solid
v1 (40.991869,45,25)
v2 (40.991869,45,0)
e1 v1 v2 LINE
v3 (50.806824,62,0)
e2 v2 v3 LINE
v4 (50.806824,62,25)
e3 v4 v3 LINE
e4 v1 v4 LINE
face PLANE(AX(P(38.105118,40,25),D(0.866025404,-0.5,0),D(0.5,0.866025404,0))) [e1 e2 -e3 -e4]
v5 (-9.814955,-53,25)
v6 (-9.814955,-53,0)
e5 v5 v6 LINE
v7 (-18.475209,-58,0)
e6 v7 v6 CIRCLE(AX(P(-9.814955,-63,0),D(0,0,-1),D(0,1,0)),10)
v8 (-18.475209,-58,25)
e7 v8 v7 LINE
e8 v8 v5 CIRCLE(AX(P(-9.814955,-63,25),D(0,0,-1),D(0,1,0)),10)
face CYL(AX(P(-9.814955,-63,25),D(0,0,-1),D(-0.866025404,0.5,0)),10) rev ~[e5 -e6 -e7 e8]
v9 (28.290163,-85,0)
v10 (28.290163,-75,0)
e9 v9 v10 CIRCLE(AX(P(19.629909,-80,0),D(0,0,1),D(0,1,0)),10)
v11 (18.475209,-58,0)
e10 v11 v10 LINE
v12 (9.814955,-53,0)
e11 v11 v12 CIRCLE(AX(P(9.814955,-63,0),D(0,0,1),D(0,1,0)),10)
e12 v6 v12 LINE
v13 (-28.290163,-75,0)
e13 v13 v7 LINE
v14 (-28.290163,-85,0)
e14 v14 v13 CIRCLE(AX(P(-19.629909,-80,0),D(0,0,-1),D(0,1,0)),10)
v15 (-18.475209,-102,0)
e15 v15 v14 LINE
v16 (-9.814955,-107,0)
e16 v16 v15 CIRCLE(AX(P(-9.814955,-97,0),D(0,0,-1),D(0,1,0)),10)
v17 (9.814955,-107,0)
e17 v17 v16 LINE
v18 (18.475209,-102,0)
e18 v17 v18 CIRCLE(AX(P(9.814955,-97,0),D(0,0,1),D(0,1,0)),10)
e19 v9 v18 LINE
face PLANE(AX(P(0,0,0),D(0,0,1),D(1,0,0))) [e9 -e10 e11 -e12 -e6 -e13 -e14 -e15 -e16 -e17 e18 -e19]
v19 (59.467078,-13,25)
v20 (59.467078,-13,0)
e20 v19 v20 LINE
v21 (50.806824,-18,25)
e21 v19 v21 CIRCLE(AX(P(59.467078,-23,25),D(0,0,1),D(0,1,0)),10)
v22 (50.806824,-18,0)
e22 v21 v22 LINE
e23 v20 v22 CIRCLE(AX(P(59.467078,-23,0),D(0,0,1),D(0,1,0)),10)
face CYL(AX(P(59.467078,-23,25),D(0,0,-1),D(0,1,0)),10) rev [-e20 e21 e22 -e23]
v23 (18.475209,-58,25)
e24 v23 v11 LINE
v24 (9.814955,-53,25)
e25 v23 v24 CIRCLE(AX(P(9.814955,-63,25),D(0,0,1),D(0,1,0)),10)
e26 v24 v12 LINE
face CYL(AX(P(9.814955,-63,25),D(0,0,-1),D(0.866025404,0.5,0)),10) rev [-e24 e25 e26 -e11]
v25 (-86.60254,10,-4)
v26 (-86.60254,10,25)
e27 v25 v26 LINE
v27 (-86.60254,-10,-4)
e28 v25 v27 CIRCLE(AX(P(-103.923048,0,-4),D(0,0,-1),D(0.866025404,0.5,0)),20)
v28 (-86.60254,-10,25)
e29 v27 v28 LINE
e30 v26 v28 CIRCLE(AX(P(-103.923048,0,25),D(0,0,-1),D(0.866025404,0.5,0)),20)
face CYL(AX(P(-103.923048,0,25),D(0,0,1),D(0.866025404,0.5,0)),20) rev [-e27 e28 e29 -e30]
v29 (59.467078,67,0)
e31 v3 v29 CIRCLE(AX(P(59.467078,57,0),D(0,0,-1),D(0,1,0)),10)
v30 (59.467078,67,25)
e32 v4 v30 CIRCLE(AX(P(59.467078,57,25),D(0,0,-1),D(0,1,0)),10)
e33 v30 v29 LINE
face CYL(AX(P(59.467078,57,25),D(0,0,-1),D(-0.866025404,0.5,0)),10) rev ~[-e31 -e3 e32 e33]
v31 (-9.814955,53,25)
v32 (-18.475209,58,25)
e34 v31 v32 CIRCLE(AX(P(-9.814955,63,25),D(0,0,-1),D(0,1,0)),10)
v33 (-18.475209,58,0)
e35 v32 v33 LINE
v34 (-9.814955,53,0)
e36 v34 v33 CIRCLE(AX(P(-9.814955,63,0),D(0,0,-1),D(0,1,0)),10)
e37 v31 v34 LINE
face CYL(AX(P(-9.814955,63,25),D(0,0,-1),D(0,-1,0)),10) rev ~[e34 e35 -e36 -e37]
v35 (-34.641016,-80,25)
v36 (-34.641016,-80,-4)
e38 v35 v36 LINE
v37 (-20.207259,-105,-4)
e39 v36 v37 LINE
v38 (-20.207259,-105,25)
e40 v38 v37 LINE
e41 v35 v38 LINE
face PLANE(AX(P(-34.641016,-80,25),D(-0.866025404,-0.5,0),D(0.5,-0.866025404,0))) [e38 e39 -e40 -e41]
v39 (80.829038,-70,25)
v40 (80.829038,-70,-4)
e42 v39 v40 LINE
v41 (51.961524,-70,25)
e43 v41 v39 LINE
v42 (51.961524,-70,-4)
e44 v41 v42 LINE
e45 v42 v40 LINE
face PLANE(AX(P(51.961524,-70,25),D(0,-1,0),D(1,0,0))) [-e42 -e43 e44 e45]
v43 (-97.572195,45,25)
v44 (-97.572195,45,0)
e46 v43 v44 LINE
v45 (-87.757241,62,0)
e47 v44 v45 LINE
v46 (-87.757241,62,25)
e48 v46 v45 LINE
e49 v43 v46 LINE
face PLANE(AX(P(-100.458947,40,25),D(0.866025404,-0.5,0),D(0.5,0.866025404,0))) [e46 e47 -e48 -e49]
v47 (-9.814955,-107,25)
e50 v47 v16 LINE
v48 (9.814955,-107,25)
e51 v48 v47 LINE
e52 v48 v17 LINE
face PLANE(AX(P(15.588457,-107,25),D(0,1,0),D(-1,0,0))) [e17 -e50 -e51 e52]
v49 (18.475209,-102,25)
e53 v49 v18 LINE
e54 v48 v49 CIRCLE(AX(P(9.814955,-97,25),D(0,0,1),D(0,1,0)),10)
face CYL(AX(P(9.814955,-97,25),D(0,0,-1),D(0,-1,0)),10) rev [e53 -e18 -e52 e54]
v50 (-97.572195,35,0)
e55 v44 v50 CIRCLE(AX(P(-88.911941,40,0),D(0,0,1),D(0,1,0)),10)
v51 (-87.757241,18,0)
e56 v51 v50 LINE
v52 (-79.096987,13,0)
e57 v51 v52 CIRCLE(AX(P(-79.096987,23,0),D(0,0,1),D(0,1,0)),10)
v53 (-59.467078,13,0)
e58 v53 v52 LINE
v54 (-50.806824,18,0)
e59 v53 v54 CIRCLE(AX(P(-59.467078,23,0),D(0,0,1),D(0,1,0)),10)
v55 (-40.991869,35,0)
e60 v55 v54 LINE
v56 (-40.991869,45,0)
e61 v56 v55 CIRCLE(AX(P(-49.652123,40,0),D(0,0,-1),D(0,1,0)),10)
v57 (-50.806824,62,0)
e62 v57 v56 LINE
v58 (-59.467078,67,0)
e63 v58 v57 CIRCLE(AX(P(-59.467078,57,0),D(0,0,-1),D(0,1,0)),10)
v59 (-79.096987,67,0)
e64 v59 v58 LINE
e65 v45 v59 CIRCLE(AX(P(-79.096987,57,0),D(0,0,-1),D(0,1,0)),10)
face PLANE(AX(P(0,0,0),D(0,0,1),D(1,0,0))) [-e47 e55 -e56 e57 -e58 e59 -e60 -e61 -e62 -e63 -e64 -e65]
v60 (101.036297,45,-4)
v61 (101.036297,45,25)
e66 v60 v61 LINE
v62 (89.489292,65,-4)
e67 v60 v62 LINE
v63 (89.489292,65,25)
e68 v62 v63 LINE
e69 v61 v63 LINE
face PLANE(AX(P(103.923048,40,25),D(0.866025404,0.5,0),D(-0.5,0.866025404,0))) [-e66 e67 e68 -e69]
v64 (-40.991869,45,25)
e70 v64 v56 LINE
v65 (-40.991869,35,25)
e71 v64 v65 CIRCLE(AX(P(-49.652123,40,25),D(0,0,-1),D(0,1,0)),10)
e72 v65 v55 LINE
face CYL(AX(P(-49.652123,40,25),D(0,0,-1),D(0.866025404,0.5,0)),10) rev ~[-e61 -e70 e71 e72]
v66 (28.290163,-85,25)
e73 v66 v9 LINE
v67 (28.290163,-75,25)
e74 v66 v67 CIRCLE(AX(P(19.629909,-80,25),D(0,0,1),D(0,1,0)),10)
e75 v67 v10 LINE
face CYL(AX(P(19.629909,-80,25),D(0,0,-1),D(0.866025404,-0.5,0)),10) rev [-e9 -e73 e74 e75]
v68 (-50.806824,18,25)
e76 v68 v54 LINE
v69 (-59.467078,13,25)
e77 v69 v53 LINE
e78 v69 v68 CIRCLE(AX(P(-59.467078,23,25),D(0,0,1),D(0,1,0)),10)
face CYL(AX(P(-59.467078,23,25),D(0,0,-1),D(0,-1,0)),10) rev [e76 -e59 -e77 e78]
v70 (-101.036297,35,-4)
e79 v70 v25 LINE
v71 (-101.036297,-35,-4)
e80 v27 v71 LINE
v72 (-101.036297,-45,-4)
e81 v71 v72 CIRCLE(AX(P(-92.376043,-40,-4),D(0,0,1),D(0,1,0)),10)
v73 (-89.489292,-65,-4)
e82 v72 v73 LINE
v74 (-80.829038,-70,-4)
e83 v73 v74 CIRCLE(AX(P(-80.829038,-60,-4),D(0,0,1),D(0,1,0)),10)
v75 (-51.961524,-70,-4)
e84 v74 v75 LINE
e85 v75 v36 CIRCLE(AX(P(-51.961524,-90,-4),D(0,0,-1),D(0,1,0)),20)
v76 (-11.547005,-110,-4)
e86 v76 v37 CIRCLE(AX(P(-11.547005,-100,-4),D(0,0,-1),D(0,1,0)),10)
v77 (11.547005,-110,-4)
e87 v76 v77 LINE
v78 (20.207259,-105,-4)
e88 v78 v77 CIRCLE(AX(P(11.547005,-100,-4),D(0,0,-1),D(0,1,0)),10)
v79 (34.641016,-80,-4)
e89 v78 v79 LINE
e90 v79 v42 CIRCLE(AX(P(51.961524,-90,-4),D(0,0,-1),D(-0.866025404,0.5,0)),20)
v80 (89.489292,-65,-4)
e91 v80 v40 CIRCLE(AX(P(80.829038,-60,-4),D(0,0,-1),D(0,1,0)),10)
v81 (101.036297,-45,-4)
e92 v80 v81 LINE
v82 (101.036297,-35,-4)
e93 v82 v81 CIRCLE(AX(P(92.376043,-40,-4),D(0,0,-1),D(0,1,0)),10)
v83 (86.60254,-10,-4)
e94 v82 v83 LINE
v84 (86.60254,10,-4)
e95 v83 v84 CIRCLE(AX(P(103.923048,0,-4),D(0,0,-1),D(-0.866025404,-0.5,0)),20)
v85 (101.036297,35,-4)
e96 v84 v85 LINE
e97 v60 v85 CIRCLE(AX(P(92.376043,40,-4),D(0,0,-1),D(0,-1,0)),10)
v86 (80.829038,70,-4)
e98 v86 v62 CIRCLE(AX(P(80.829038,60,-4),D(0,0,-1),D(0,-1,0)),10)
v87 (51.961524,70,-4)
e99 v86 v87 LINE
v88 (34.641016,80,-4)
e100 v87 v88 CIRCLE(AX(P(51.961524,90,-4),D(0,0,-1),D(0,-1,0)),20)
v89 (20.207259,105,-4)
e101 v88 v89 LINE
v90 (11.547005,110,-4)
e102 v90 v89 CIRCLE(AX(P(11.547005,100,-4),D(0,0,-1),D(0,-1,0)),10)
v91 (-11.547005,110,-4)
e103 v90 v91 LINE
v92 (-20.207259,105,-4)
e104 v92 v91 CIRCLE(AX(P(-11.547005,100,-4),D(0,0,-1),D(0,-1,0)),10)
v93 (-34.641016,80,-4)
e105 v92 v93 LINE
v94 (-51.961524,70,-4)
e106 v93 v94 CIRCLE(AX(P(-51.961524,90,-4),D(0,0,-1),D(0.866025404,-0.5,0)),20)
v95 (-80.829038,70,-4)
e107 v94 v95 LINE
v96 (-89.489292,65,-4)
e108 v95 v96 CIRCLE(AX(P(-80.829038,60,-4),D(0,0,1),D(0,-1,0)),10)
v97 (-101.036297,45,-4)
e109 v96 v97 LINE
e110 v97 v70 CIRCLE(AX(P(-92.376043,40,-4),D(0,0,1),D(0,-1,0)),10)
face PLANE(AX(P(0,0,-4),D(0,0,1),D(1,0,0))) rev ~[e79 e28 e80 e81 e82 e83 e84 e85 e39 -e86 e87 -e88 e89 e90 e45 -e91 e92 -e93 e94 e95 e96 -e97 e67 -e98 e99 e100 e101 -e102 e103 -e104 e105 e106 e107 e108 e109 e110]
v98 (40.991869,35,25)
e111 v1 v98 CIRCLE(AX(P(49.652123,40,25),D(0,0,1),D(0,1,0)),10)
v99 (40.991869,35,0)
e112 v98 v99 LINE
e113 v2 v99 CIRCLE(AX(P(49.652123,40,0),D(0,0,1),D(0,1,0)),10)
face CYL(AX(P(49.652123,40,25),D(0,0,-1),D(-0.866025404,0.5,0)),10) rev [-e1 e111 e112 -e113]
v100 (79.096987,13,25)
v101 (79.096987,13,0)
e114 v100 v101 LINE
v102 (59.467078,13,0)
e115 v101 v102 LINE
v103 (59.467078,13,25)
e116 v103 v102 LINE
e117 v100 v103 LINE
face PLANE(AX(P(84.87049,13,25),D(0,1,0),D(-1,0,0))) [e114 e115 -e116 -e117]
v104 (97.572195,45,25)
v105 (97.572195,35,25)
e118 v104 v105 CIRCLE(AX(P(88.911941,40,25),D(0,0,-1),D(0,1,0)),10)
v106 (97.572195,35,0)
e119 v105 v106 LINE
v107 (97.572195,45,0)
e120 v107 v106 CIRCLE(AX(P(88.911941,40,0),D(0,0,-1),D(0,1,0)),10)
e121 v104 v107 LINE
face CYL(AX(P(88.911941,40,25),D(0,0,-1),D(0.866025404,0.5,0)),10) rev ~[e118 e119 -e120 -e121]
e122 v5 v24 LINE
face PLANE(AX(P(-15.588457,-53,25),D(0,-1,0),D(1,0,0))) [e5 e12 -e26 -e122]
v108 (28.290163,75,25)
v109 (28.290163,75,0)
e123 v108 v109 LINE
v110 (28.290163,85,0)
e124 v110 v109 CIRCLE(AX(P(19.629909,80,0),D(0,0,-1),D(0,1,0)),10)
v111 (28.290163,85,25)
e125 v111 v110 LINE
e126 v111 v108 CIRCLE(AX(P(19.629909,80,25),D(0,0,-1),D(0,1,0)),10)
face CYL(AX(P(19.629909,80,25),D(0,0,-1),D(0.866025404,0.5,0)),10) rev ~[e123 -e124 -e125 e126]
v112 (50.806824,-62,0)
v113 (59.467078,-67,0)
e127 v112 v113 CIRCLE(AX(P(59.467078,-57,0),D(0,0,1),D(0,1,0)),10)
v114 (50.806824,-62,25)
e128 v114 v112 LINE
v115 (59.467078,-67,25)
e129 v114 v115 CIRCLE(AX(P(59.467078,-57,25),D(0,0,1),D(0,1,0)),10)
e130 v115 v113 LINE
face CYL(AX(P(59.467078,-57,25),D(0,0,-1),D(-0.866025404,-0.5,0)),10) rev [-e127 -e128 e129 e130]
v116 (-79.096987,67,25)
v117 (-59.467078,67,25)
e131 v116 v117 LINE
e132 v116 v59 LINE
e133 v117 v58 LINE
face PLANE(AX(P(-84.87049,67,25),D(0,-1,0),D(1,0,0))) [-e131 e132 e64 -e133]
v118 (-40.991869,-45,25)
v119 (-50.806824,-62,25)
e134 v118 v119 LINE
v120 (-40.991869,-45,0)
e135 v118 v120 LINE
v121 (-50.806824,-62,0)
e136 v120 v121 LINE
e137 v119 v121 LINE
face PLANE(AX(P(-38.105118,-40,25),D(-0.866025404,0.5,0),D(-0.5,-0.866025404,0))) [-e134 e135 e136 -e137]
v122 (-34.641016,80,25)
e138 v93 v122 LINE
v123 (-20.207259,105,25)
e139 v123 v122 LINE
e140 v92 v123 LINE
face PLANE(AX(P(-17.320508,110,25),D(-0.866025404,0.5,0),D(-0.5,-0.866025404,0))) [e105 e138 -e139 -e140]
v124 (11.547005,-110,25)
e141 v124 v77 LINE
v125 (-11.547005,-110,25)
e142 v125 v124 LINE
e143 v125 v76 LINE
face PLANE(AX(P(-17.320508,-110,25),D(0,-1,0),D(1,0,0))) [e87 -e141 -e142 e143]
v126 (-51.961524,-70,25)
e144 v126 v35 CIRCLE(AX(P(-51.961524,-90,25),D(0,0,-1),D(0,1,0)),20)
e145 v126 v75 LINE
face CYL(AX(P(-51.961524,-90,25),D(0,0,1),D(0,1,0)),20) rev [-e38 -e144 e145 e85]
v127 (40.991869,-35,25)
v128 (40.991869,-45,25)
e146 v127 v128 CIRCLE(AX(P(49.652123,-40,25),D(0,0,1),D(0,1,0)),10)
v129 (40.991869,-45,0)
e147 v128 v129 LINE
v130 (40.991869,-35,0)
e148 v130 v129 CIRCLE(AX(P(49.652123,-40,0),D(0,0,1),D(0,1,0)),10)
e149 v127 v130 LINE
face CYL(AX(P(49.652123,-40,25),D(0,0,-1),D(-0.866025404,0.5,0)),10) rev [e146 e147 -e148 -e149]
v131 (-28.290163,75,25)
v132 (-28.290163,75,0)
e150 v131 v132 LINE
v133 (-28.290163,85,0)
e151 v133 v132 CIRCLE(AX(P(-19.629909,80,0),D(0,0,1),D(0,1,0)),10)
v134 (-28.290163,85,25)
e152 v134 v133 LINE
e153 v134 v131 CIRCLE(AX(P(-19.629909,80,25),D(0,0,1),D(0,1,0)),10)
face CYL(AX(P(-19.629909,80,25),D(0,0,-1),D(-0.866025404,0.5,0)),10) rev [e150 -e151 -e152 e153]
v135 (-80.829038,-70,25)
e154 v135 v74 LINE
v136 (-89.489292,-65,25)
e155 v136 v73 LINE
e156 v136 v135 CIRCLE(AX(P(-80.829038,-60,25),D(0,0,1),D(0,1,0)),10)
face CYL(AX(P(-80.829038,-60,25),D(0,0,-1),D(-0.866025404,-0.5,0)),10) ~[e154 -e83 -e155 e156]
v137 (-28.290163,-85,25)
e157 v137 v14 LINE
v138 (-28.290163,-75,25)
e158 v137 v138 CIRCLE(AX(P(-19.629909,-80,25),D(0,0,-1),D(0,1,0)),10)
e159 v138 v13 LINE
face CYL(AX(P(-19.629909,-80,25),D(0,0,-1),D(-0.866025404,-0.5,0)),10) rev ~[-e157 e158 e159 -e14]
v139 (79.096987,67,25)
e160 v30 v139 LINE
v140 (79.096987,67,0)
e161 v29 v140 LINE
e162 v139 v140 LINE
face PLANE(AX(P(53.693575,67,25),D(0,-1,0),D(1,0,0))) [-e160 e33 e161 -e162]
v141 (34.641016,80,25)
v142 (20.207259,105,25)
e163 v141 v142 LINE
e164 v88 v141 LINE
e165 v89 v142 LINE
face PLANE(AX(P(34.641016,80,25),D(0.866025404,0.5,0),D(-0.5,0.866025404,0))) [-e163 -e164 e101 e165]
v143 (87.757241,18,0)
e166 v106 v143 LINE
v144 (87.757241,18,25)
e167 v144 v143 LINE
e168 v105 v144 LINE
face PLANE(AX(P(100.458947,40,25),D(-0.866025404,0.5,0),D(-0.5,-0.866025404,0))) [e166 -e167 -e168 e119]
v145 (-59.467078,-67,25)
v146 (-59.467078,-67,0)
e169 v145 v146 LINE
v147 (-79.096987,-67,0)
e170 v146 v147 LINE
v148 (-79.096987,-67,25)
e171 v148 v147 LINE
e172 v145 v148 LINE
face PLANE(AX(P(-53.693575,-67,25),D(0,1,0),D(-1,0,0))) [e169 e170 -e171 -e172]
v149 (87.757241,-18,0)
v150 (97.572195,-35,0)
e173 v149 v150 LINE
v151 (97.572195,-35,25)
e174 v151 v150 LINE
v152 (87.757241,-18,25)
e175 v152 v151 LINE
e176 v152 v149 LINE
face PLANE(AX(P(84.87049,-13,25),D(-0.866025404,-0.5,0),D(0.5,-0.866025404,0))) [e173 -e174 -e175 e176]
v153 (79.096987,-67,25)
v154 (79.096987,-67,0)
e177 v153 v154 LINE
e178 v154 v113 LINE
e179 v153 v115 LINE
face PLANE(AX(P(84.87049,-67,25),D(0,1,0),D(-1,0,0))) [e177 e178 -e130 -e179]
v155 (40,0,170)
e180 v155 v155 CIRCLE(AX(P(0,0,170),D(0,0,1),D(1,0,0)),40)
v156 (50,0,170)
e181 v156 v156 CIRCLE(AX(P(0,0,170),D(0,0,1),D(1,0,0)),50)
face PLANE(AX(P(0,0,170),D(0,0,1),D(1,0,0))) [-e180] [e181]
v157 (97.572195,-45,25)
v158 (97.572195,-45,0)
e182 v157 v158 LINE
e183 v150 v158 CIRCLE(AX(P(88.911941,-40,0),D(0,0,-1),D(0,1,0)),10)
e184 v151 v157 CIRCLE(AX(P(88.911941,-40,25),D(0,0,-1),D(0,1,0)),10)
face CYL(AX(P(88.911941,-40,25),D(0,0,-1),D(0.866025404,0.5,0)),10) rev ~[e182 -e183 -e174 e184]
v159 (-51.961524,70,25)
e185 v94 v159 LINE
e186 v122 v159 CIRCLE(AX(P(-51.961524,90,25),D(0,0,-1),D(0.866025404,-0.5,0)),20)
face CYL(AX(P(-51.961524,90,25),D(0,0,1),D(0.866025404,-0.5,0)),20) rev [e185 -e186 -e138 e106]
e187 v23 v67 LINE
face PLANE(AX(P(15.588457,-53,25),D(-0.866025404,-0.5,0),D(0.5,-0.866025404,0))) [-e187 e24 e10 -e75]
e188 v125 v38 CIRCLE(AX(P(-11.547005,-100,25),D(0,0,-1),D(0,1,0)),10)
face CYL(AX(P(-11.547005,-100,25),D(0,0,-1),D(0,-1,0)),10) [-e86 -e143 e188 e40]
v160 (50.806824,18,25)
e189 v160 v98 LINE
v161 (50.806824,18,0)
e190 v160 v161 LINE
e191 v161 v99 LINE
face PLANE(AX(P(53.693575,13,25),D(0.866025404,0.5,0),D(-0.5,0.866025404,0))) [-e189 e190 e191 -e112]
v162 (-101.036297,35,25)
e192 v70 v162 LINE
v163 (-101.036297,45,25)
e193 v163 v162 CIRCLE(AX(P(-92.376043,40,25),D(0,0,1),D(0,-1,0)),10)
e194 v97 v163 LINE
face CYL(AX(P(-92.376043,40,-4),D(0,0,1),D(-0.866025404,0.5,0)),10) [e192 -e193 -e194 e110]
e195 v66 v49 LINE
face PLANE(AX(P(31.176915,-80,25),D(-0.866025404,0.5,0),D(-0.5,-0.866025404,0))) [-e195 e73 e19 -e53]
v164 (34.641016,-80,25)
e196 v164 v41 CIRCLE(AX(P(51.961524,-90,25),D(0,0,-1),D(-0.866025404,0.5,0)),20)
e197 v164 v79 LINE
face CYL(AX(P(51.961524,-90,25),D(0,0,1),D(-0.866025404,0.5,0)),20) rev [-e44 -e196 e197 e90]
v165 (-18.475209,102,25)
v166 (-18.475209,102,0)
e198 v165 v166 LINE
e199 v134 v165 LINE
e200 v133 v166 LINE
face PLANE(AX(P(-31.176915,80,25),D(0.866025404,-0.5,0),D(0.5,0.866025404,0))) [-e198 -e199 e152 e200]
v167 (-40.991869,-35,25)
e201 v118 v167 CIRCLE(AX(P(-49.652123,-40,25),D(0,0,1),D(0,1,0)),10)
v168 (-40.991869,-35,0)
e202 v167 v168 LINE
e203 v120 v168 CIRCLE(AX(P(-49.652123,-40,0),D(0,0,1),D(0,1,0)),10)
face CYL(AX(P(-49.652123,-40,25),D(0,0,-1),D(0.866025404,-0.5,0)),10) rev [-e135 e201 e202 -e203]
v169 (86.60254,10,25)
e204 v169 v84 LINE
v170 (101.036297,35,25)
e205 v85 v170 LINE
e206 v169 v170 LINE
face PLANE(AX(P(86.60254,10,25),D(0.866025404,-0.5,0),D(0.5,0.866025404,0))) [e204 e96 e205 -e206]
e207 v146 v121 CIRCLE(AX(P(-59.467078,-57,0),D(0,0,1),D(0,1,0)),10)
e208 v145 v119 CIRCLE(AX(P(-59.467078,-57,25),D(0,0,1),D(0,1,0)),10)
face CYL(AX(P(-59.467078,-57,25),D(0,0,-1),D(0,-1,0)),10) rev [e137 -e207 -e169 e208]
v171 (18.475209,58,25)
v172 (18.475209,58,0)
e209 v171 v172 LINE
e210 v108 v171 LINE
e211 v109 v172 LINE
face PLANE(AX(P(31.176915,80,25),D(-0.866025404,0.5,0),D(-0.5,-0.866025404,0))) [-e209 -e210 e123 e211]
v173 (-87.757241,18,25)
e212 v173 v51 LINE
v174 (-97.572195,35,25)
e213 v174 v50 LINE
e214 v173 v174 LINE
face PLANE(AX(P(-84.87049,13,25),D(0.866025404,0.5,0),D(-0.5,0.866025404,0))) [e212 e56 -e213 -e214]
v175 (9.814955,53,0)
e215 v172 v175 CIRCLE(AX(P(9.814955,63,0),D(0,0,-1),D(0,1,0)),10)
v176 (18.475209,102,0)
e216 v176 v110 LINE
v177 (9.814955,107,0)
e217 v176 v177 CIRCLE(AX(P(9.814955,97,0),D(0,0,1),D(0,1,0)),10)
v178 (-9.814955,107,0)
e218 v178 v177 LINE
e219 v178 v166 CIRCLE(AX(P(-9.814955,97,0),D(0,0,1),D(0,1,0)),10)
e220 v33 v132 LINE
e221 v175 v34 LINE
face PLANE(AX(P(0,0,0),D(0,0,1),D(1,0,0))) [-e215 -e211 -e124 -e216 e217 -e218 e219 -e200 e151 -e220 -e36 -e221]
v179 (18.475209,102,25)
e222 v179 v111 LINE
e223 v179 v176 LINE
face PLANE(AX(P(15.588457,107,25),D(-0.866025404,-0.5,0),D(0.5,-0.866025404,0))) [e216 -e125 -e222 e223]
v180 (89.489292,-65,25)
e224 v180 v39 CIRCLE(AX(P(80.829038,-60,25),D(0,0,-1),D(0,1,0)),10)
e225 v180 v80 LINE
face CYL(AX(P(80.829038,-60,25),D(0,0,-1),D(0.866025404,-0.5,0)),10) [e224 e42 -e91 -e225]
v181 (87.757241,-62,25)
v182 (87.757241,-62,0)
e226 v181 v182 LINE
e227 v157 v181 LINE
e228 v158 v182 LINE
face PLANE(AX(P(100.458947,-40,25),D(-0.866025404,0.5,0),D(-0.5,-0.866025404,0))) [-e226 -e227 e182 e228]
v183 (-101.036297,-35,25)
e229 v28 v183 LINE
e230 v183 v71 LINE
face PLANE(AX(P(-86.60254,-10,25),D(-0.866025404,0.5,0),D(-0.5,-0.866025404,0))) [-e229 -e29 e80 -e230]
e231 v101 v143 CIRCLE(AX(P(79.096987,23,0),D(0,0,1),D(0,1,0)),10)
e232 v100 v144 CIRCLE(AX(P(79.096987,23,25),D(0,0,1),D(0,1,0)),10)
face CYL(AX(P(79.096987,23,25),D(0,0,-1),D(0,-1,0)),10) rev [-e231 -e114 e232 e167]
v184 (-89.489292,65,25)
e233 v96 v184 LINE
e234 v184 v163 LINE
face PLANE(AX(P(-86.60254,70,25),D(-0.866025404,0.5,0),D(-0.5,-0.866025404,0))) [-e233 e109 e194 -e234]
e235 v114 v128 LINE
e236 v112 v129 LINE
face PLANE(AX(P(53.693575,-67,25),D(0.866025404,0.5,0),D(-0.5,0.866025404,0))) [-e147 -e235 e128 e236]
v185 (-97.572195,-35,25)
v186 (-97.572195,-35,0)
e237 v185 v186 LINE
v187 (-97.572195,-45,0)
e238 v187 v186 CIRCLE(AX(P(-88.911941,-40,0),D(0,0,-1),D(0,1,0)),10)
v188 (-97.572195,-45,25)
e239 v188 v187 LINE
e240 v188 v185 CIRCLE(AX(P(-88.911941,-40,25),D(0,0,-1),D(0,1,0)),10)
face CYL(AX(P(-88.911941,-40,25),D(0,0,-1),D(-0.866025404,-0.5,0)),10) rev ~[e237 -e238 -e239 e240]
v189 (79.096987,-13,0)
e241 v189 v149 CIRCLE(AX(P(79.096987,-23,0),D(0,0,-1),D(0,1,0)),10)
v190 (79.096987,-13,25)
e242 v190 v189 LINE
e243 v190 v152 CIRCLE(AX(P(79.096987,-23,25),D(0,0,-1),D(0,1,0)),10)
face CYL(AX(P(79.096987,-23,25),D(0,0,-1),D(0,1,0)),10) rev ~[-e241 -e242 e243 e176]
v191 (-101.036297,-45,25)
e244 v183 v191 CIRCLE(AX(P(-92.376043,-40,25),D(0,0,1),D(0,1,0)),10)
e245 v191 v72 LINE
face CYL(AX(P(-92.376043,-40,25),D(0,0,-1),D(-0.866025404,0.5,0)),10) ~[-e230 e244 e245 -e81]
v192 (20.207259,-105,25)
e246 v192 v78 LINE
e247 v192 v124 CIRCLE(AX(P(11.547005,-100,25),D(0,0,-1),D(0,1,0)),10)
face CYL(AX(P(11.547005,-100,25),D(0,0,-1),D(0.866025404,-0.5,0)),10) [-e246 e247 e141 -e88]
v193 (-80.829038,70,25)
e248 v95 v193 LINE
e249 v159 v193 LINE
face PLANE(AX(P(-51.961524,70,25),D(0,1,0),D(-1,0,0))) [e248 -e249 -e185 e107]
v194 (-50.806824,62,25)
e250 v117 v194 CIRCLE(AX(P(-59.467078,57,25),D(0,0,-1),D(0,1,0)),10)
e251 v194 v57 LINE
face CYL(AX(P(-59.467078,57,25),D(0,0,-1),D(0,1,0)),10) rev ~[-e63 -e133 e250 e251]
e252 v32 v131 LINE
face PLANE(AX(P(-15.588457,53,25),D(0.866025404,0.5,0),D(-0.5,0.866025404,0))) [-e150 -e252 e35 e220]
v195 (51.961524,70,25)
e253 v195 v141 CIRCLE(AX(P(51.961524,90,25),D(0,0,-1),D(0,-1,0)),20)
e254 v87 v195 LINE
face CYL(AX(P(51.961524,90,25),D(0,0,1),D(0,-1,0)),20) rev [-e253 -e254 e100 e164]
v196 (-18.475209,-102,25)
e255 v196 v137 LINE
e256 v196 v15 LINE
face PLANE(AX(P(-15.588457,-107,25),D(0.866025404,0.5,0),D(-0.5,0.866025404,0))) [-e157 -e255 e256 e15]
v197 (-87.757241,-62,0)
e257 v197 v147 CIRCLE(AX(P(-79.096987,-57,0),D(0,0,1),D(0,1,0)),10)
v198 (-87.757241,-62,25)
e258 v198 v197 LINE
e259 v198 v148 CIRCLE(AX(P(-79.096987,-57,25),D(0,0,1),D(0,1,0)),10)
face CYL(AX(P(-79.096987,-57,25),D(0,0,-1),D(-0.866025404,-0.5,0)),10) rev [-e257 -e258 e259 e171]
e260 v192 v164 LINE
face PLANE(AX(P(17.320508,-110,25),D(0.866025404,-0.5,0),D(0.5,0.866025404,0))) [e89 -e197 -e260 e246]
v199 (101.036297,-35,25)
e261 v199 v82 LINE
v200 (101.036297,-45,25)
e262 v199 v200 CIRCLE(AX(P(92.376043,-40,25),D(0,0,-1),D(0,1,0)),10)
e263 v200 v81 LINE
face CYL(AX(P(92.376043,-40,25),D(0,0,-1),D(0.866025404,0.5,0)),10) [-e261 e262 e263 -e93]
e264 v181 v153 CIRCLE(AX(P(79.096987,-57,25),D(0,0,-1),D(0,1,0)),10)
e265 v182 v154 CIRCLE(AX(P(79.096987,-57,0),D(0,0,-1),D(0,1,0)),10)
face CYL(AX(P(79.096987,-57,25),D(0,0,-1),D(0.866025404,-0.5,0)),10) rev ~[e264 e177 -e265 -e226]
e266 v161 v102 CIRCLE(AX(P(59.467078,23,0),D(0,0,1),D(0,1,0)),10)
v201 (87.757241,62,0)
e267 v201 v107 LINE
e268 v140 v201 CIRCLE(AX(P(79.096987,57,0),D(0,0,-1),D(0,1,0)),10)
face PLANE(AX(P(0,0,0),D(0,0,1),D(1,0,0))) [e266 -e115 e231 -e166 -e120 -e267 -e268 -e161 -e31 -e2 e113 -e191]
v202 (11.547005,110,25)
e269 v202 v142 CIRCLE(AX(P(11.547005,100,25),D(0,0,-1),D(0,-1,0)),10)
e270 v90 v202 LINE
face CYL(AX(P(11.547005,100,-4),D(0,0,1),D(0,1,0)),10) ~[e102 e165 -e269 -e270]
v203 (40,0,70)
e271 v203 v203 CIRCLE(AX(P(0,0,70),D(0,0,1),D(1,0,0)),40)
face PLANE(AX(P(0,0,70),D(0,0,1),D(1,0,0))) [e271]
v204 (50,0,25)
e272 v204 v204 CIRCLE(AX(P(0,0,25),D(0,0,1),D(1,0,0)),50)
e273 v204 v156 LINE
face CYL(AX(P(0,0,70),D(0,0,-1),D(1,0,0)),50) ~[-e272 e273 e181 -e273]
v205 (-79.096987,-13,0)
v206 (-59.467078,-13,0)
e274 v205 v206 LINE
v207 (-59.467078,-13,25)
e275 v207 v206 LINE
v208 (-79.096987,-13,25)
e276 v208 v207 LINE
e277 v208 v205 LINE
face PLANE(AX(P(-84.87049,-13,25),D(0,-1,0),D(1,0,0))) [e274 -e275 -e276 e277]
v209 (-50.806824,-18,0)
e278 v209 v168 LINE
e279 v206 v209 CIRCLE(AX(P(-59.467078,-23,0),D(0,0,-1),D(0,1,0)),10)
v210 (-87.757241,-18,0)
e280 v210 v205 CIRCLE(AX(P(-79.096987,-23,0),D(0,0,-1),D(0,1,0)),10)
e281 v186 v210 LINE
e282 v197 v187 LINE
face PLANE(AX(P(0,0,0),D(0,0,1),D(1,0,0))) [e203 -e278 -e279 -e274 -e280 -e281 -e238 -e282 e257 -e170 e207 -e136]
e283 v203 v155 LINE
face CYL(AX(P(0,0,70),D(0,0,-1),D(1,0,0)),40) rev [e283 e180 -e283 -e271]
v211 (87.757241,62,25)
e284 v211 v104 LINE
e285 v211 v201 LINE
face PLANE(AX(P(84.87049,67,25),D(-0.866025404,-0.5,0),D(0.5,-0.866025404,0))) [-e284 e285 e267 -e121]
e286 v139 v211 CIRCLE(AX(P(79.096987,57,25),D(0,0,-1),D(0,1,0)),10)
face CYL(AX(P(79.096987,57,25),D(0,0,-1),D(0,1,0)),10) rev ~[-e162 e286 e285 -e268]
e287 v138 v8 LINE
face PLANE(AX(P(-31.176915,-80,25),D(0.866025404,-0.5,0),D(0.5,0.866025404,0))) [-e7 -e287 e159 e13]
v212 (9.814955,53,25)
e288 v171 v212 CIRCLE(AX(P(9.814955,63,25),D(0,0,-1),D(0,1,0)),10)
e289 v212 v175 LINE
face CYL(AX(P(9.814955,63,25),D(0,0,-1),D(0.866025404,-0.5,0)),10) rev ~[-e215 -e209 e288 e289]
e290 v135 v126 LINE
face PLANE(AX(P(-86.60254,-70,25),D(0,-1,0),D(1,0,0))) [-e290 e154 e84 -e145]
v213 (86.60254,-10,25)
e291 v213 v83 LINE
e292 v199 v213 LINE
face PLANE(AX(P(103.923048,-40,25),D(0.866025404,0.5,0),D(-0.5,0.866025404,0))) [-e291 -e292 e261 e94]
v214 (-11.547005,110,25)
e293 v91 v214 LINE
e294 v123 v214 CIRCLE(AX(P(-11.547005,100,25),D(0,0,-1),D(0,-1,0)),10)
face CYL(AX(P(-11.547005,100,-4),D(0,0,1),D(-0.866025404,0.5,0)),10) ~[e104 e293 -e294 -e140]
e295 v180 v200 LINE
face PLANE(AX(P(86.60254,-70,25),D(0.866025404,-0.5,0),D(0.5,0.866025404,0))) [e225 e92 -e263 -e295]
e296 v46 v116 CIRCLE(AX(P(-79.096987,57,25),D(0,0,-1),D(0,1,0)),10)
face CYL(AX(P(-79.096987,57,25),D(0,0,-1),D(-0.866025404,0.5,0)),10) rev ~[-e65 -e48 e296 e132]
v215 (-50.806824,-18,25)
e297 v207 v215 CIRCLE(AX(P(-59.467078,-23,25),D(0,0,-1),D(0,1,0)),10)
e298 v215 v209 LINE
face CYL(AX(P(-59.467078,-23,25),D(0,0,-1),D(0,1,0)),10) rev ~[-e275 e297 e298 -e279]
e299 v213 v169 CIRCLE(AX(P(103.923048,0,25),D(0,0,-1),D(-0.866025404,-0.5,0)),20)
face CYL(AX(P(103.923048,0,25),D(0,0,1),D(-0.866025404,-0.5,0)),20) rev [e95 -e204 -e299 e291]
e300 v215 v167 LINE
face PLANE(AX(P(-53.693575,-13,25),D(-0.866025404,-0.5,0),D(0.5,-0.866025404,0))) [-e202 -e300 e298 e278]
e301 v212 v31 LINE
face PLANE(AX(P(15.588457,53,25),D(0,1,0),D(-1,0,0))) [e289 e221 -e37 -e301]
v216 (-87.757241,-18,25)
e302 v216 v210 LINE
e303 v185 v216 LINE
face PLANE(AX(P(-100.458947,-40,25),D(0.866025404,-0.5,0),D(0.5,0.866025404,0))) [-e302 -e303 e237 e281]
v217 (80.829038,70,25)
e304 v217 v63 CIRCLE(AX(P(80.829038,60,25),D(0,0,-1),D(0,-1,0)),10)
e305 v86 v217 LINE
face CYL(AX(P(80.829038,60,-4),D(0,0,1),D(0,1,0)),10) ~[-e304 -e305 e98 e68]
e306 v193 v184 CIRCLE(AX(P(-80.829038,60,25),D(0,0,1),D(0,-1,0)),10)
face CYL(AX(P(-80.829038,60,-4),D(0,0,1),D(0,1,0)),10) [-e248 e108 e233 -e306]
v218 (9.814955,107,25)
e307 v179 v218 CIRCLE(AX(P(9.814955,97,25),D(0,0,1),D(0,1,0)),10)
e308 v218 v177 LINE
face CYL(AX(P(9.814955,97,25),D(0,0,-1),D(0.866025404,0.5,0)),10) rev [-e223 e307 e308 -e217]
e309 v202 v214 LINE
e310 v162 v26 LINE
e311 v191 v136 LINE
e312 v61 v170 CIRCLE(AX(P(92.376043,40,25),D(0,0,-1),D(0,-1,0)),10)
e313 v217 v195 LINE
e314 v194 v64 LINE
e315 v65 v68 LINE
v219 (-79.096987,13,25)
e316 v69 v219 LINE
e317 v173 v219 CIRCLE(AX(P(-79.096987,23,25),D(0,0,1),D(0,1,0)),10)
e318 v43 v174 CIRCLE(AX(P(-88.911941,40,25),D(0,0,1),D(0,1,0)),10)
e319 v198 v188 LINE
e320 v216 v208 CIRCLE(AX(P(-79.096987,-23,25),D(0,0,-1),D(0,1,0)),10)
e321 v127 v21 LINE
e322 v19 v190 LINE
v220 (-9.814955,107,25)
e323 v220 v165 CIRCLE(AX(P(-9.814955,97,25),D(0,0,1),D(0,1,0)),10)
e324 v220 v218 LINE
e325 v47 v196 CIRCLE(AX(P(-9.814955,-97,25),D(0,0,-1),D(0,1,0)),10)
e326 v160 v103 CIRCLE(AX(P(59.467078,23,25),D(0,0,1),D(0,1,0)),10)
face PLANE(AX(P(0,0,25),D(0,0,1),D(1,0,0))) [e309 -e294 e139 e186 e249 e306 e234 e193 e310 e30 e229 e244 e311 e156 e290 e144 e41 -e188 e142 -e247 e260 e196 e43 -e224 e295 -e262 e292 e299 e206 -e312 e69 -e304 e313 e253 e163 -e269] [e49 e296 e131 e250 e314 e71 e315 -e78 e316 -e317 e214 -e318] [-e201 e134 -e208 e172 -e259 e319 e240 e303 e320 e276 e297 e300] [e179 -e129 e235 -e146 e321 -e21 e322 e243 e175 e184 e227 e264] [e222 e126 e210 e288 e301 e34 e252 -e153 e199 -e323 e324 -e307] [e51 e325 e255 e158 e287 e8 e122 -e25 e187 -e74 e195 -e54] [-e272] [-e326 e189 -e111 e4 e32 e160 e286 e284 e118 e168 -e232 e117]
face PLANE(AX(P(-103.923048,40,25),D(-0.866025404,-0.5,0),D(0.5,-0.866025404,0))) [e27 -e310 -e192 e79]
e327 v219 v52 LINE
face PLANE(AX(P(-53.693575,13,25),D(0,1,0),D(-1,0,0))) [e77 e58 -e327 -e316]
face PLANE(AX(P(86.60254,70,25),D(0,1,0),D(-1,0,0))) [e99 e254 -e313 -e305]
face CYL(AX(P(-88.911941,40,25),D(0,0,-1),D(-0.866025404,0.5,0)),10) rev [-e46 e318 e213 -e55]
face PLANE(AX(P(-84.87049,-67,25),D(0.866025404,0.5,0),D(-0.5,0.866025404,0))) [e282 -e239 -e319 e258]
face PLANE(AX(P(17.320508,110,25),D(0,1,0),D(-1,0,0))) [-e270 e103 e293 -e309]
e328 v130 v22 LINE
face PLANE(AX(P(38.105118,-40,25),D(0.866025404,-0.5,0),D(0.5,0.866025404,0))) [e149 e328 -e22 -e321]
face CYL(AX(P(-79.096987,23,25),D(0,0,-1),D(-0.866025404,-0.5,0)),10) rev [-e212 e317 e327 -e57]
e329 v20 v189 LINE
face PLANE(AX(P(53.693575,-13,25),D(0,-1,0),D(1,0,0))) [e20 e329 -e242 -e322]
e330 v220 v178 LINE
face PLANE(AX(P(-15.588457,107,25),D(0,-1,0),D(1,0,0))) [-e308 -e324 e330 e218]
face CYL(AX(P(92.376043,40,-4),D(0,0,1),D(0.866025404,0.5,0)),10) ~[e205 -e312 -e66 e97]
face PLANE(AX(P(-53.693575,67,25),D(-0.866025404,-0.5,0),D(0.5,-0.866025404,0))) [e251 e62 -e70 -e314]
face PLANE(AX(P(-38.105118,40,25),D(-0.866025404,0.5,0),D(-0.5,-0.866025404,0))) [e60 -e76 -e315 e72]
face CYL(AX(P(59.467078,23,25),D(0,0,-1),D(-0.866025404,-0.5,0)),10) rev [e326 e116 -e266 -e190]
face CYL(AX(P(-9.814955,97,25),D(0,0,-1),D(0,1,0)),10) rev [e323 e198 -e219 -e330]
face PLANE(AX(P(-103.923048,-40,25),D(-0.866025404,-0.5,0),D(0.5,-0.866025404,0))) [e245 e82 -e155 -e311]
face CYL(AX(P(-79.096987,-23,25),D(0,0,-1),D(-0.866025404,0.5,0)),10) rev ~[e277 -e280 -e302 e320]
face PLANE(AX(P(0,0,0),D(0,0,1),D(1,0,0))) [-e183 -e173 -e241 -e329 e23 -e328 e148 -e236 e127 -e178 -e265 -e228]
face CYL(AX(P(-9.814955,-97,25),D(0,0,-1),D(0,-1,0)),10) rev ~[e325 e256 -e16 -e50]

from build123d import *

# Parameters (mm, degrees)
BOSS_EXTRUDE2_DEPTH = 4
BOSS_EXTRUDE3_START = 25
BOSS_EXTRUDE3_DEPTH = 25
BOSS_EXTRUDE4_START = 25
BASE_SKETCH_4_R     = 50
BASE_SKETCH_4_R_2   = 40
BASE_SKETCH_4_R_3   = 10
BOSS_EXTRUDE4_DEPTH = 40
BOSS_EXTRUDE5_START = 65
BASE_SKETCH_5_R     = 50
BASE_SKETCH_5_R_2   = 40
BASE_SKETCH_5_R_3   = 10
BOSS_EXTRUDE5_DEPTH = 5
BOSS_EXTRUDE6_START = 70
BASE_SKETCH_7_R     = 50
BASE_SKETCH_7_R_2   = 40
BOSS_EXTRUDE6_DEPTH = 100
FILLET1_R           = 10
FILLET2_R           = 10


with BuildPart() as part:
    # Base_Sketch → Boss-Extrude2 (new body)
    with BuildSketch(Plane.XY):
        with BuildLine():
            Line((34.641016151, 80), (17.320508076, 110))
            Line((17.320508076, 110), (-17.320508076, 110))
            Line((-17.320508076, 110), (-34.641016151, 80))
            ThreePointArc((-34.641016151, 80), (-41.961524227, 72.679491924), (-51.961524227, 70))
            Line((-51.961524227, 70), (-86.602540378, 70))
            Line((-86.602540378, 70), (-103.923048454, 40))
            Line((-103.923048454, 40), (-86.602540378, 10))
            ThreePointArc((-86.602540378, 10), (-83.923048454, 0), (-86.602540378, -10))
            Line((-86.602540378, -10), (-103.923048454, -40))
            Line((-103.923048454, -40), (-86.602540378, -70))
            Line((-86.602540378, -70), (-51.961524227, -70))
            ThreePointArc((-51.961524227, -70), (-41.961524227, -72.679491924), (-34.641016151, -80))
            Line((-34.641016151, -80), (-17.320508076, -110))
            Line((-17.320508076, -110), (17.320508076, -110))
            Line((17.320508076, -110), (34.641016151, -80))
            ThreePointArc((34.641016151, -80), (41.961524227, -72.679491924), (51.961524227, -70))
            Line((51.961524227, -70), (86.602540378, -70))
            Line((86.602540378, -70), (103.923048454, -40))
            Line((103.923048454, -40), (86.602540378, -10))
            ThreePointArc((86.602540378, -10), (83.923048454, 0), (86.602540378, 10))
            Line((86.602540378, 10), (103.923048454, 40))
            Line((103.923048454, 40), (86.602540378, 70))
            Line((86.602540378, 70), (51.961524227, 70))
            ThreePointArc((51.961524227, 70), (41.961524227, 72.679491924), (34.641016151, 80))
        make_face()
    extrude(amount=-BOSS_EXTRUDE2_DEPTH)

    # Base_Sketch<3> → Boss-Extrude3 (add)
    with BuildSketch(Plane.XY.offset(BOSS_EXTRUDE3_START)):
        with BuildLine():
            Line((86.602540378, 10), (103.923048454, 40))
            Line((103.923048454, 40), (86.602540378, 70))
            Line((86.602540378, 70), (51.961524227, 70))
            ThreePointArc((51.961524227, 70), (41.961524227, 72.679491924), (34.641016151, 80))
            Line((34.641016151, 80), (17.320508076, 110))
            Line((17.320508076, 110), (-17.320508076, 110))
            Line((-17.320508076, 110), (-34.641016151, 80))
            ThreePointArc((-34.641016151, 80), (-41.961524227, 72.679491924), (-51.961524227, 70))
            Line((-51.961524227, 70), (-86.602540378, 70))
            Line((-86.602540378, 70), (-103.923048454, 40))
            Line((-103.923048454, 40), (-86.602540378, 10))
            ThreePointArc((-86.602540378, 10), (-83.923048454, 0), (-86.602540378, -10))
            Line((-86.602540378, -10), (-103.923048454, -40))
            Line((-103.923048454, -40), (-86.602540378, -70))
            Line((-86.602540378, -70), (-51.961524227, -70))
            ThreePointArc((-51.961524227, -70), (-41.961524227, -72.679491924), (-34.641016151, -80))
            Line((-34.641016151, -80), (-17.320508076, -110))
            Line((-17.320508076, -110), (17.320508076, -110))
            Line((17.320508076, -110), (34.641016151, -80))
            ThreePointArc((34.641016151, -80), (41.961524227, -72.679491924), (51.961524227, -70))
            Line((51.961524227, -70), (86.602540378, -70))
            Line((86.602540378, -70), (103.923048454, -40))
            Line((103.923048454, -40), (86.602540378, -10))
            ThreePointArc((86.602540378, -10), (83.923048454, 0), (86.602540378, 10))
        make_face()
        Polygon((-31.176914536, 80), (-15.588457268, 107), (15.588457268, 107), (31.176914536, 80), (15.588457268, 53), (-15.588457268, 53), align=None, mode=Mode.SUBTRACT)
        Polygon((53.693575035, 67), (84.870489571, 67), (100.458946839, 40), (84.870489571, 13), (53.693575035, 13), (38.105117767, 40), align=None, mode=Mode.SUBTRACT)
        Polygon((-84.870489571, 67), (-53.693575035, 67), (-38.105117767, 40), (-53.693575035, 13), (-84.870489571, 13), (-100.458946839, 40), align=None, mode=Mode.SUBTRACT)
        Polygon((-100.458946839, -40), (-84.870489571, -13), (-53.693575035, -13), (-38.105117767, -40), (-53.693575035, -67), (-84.870489571, -67), align=None, mode=Mode.SUBTRACT)
        Polygon((84.870489571, -13), (100.458946839, -40), (84.870489571, -67), (53.693575035, -67), (38.105117767, -40), (53.693575035, -13), align=None, mode=Mode.SUBTRACT)
        Polygon((-15.588457268, -107), (-31.176914536, -80), (-15.588457268, -53), (15.588457268, -53), (31.176914536, -80), (15.588457268, -107), align=None, mode=Mode.SUBTRACT)
    extrude(amount=-BOSS_EXTRUDE3_DEPTH)

    # Base_Sketch<4> → Boss-Extrude4 (add)
    # profile 1 of 3: a face of its own
    with BuildSketch(Plane.XY.offset(BOSS_EXTRUDE4_START)):
        Circle(BASE_SKETCH_4_R)
        Circle(BASE_SKETCH_4_R_2, mode=Mode.SUBTRACT)
    # profile 2 of 3: a face of its own
    with BuildSketch(Plane.XY.offset(BOSS_EXTRUDE4_START)):
        Circle(BASE_SKETCH_4_R_2)
        Circle(BASE_SKETCH_4_R_3, mode=Mode.SUBTRACT)
    # profile 3 of 3: a face of its own
    with BuildSketch(Plane.XY.offset(BOSS_EXTRUDE4_START)):
        Circle(BASE_SKETCH_4_R_3)
    extrude(amount=BOSS_EXTRUDE4_DEPTH)

    # Base_Sketch<5> → Boss-Extrude5 (add)
    # profile 1 of 3: a face of its own
    with BuildSketch(Plane.XY.offset(BOSS_EXTRUDE5_START)):
        Circle(BASE_SKETCH_5_R)
        Circle(BASE_SKETCH_5_R_2, mode=Mode.SUBTRACT)
    # profile 2 of 3: a face of its own
    with BuildSketch(Plane.XY.offset(BOSS_EXTRUDE5_START)):
        Circle(BASE_SKETCH_5_R_2)
        Circle(BASE_SKETCH_5_R_3, mode=Mode.SUBTRACT)
    # profile 3 of 3: a face of its own
    with BuildSketch(Plane.XY.offset(BOSS_EXTRUDE5_START)):
        Circle(BASE_SKETCH_5_R_3)
    extrude(amount=BOSS_EXTRUDE5_DEPTH)

    # Base_Sketch<7> → Boss-Extrude6 (add)
    with BuildSketch(Plane.XY.offset(BOSS_EXTRUDE6_START)):
        Circle(BASE_SKETCH_7_R)
        Circle(BASE_SKETCH_7_R_2, mode=Mode.SUBTRACT)
    extrude(amount=BOSS_EXTRUDE6_DEPTH)

    # Fillet1
    fillet1_edges = [part.edges().sort_by_distance(p)[0] for p in [
        (-15.588457268, 107, 12.5),
        (-31.176914536, 80, 12.5),
        (-15.588457268, 53, 12.5),
        (15.588457268, 53, 12.5),
        (31.176914536, 80, 12.5),
        (15.588457268, 107, 12.5),
        (-17.320508076, 110, 10.5),
        (17.320508076, 110, 10.5),
    ]]
    fillet(fillet1_edges, radius=FILLET1_R)

    # Fillet2
    fillet2_edges = [part.edges().sort_by_distance(p)[0] for p in [
        (-15.588457268, -107, 12.5),
        (15.588457268, -107, 12.5),
        (31.176914536, -80, 12.5),
        (15.588457268, -53, 12.5),
        (-15.588457268, -53, 12.5),
        (-31.176914536, -80, 12.5),
        (-100.458946839, -40, 12.5),
        (-84.870489571, -67, 12.5),
        (-53.693575035, -67, 12.5),
        (-38.105117767, -40, 12.5),
        (-53.693575035, -13, 12.5),
        (-84.870489571, -13, 12.5),
        (-84.870489571, 67, 12.5),
        (-100.458946839, 40, 12.5),
        (-84.870489571, 13, 12.5),
        (-53.693575035, 13, 12.5),
        (-38.105117767, 40, 12.5),
        (-53.693575035, 67, 12.5),
        (100.458946839, 40, 12.5),
        (84.870489571, 67, 12.5),
        (53.693575035, 67, 12.5),
        (38.105117767, 40, 12.5),
        (53.693575035, 13, 12.5),
        (84.870489571, 13, 12.5),
        (84.870489571, -13, 12.5),
        (53.693575035, -13, 12.5),
        (38.105117767, -40, 12.5),
        (53.693575035, -67, 12.5),
        (84.870489571, -67, 12.5),
        (100.458946839, -40, 12.5),
        (103.923048454, -40, 10.5),
        (86.602540378, -70, 10.5),
        (17.320508076, -110, 10.5),
        (-17.320508076, -110, 10.5),
        (-86.602540378, -70, 10.5),
        (-103.923048454, -40, 10.5),
        (-103.923048454, 40, 10.5),
        (-86.602540378, 70, 10.5),
        (86.602540378, 70, 10.5),
        (103.923048454, 40, 10.5),
    ]]
    fillet(fillet2_edges, radius=FILLET2_R)


solid = part.part
